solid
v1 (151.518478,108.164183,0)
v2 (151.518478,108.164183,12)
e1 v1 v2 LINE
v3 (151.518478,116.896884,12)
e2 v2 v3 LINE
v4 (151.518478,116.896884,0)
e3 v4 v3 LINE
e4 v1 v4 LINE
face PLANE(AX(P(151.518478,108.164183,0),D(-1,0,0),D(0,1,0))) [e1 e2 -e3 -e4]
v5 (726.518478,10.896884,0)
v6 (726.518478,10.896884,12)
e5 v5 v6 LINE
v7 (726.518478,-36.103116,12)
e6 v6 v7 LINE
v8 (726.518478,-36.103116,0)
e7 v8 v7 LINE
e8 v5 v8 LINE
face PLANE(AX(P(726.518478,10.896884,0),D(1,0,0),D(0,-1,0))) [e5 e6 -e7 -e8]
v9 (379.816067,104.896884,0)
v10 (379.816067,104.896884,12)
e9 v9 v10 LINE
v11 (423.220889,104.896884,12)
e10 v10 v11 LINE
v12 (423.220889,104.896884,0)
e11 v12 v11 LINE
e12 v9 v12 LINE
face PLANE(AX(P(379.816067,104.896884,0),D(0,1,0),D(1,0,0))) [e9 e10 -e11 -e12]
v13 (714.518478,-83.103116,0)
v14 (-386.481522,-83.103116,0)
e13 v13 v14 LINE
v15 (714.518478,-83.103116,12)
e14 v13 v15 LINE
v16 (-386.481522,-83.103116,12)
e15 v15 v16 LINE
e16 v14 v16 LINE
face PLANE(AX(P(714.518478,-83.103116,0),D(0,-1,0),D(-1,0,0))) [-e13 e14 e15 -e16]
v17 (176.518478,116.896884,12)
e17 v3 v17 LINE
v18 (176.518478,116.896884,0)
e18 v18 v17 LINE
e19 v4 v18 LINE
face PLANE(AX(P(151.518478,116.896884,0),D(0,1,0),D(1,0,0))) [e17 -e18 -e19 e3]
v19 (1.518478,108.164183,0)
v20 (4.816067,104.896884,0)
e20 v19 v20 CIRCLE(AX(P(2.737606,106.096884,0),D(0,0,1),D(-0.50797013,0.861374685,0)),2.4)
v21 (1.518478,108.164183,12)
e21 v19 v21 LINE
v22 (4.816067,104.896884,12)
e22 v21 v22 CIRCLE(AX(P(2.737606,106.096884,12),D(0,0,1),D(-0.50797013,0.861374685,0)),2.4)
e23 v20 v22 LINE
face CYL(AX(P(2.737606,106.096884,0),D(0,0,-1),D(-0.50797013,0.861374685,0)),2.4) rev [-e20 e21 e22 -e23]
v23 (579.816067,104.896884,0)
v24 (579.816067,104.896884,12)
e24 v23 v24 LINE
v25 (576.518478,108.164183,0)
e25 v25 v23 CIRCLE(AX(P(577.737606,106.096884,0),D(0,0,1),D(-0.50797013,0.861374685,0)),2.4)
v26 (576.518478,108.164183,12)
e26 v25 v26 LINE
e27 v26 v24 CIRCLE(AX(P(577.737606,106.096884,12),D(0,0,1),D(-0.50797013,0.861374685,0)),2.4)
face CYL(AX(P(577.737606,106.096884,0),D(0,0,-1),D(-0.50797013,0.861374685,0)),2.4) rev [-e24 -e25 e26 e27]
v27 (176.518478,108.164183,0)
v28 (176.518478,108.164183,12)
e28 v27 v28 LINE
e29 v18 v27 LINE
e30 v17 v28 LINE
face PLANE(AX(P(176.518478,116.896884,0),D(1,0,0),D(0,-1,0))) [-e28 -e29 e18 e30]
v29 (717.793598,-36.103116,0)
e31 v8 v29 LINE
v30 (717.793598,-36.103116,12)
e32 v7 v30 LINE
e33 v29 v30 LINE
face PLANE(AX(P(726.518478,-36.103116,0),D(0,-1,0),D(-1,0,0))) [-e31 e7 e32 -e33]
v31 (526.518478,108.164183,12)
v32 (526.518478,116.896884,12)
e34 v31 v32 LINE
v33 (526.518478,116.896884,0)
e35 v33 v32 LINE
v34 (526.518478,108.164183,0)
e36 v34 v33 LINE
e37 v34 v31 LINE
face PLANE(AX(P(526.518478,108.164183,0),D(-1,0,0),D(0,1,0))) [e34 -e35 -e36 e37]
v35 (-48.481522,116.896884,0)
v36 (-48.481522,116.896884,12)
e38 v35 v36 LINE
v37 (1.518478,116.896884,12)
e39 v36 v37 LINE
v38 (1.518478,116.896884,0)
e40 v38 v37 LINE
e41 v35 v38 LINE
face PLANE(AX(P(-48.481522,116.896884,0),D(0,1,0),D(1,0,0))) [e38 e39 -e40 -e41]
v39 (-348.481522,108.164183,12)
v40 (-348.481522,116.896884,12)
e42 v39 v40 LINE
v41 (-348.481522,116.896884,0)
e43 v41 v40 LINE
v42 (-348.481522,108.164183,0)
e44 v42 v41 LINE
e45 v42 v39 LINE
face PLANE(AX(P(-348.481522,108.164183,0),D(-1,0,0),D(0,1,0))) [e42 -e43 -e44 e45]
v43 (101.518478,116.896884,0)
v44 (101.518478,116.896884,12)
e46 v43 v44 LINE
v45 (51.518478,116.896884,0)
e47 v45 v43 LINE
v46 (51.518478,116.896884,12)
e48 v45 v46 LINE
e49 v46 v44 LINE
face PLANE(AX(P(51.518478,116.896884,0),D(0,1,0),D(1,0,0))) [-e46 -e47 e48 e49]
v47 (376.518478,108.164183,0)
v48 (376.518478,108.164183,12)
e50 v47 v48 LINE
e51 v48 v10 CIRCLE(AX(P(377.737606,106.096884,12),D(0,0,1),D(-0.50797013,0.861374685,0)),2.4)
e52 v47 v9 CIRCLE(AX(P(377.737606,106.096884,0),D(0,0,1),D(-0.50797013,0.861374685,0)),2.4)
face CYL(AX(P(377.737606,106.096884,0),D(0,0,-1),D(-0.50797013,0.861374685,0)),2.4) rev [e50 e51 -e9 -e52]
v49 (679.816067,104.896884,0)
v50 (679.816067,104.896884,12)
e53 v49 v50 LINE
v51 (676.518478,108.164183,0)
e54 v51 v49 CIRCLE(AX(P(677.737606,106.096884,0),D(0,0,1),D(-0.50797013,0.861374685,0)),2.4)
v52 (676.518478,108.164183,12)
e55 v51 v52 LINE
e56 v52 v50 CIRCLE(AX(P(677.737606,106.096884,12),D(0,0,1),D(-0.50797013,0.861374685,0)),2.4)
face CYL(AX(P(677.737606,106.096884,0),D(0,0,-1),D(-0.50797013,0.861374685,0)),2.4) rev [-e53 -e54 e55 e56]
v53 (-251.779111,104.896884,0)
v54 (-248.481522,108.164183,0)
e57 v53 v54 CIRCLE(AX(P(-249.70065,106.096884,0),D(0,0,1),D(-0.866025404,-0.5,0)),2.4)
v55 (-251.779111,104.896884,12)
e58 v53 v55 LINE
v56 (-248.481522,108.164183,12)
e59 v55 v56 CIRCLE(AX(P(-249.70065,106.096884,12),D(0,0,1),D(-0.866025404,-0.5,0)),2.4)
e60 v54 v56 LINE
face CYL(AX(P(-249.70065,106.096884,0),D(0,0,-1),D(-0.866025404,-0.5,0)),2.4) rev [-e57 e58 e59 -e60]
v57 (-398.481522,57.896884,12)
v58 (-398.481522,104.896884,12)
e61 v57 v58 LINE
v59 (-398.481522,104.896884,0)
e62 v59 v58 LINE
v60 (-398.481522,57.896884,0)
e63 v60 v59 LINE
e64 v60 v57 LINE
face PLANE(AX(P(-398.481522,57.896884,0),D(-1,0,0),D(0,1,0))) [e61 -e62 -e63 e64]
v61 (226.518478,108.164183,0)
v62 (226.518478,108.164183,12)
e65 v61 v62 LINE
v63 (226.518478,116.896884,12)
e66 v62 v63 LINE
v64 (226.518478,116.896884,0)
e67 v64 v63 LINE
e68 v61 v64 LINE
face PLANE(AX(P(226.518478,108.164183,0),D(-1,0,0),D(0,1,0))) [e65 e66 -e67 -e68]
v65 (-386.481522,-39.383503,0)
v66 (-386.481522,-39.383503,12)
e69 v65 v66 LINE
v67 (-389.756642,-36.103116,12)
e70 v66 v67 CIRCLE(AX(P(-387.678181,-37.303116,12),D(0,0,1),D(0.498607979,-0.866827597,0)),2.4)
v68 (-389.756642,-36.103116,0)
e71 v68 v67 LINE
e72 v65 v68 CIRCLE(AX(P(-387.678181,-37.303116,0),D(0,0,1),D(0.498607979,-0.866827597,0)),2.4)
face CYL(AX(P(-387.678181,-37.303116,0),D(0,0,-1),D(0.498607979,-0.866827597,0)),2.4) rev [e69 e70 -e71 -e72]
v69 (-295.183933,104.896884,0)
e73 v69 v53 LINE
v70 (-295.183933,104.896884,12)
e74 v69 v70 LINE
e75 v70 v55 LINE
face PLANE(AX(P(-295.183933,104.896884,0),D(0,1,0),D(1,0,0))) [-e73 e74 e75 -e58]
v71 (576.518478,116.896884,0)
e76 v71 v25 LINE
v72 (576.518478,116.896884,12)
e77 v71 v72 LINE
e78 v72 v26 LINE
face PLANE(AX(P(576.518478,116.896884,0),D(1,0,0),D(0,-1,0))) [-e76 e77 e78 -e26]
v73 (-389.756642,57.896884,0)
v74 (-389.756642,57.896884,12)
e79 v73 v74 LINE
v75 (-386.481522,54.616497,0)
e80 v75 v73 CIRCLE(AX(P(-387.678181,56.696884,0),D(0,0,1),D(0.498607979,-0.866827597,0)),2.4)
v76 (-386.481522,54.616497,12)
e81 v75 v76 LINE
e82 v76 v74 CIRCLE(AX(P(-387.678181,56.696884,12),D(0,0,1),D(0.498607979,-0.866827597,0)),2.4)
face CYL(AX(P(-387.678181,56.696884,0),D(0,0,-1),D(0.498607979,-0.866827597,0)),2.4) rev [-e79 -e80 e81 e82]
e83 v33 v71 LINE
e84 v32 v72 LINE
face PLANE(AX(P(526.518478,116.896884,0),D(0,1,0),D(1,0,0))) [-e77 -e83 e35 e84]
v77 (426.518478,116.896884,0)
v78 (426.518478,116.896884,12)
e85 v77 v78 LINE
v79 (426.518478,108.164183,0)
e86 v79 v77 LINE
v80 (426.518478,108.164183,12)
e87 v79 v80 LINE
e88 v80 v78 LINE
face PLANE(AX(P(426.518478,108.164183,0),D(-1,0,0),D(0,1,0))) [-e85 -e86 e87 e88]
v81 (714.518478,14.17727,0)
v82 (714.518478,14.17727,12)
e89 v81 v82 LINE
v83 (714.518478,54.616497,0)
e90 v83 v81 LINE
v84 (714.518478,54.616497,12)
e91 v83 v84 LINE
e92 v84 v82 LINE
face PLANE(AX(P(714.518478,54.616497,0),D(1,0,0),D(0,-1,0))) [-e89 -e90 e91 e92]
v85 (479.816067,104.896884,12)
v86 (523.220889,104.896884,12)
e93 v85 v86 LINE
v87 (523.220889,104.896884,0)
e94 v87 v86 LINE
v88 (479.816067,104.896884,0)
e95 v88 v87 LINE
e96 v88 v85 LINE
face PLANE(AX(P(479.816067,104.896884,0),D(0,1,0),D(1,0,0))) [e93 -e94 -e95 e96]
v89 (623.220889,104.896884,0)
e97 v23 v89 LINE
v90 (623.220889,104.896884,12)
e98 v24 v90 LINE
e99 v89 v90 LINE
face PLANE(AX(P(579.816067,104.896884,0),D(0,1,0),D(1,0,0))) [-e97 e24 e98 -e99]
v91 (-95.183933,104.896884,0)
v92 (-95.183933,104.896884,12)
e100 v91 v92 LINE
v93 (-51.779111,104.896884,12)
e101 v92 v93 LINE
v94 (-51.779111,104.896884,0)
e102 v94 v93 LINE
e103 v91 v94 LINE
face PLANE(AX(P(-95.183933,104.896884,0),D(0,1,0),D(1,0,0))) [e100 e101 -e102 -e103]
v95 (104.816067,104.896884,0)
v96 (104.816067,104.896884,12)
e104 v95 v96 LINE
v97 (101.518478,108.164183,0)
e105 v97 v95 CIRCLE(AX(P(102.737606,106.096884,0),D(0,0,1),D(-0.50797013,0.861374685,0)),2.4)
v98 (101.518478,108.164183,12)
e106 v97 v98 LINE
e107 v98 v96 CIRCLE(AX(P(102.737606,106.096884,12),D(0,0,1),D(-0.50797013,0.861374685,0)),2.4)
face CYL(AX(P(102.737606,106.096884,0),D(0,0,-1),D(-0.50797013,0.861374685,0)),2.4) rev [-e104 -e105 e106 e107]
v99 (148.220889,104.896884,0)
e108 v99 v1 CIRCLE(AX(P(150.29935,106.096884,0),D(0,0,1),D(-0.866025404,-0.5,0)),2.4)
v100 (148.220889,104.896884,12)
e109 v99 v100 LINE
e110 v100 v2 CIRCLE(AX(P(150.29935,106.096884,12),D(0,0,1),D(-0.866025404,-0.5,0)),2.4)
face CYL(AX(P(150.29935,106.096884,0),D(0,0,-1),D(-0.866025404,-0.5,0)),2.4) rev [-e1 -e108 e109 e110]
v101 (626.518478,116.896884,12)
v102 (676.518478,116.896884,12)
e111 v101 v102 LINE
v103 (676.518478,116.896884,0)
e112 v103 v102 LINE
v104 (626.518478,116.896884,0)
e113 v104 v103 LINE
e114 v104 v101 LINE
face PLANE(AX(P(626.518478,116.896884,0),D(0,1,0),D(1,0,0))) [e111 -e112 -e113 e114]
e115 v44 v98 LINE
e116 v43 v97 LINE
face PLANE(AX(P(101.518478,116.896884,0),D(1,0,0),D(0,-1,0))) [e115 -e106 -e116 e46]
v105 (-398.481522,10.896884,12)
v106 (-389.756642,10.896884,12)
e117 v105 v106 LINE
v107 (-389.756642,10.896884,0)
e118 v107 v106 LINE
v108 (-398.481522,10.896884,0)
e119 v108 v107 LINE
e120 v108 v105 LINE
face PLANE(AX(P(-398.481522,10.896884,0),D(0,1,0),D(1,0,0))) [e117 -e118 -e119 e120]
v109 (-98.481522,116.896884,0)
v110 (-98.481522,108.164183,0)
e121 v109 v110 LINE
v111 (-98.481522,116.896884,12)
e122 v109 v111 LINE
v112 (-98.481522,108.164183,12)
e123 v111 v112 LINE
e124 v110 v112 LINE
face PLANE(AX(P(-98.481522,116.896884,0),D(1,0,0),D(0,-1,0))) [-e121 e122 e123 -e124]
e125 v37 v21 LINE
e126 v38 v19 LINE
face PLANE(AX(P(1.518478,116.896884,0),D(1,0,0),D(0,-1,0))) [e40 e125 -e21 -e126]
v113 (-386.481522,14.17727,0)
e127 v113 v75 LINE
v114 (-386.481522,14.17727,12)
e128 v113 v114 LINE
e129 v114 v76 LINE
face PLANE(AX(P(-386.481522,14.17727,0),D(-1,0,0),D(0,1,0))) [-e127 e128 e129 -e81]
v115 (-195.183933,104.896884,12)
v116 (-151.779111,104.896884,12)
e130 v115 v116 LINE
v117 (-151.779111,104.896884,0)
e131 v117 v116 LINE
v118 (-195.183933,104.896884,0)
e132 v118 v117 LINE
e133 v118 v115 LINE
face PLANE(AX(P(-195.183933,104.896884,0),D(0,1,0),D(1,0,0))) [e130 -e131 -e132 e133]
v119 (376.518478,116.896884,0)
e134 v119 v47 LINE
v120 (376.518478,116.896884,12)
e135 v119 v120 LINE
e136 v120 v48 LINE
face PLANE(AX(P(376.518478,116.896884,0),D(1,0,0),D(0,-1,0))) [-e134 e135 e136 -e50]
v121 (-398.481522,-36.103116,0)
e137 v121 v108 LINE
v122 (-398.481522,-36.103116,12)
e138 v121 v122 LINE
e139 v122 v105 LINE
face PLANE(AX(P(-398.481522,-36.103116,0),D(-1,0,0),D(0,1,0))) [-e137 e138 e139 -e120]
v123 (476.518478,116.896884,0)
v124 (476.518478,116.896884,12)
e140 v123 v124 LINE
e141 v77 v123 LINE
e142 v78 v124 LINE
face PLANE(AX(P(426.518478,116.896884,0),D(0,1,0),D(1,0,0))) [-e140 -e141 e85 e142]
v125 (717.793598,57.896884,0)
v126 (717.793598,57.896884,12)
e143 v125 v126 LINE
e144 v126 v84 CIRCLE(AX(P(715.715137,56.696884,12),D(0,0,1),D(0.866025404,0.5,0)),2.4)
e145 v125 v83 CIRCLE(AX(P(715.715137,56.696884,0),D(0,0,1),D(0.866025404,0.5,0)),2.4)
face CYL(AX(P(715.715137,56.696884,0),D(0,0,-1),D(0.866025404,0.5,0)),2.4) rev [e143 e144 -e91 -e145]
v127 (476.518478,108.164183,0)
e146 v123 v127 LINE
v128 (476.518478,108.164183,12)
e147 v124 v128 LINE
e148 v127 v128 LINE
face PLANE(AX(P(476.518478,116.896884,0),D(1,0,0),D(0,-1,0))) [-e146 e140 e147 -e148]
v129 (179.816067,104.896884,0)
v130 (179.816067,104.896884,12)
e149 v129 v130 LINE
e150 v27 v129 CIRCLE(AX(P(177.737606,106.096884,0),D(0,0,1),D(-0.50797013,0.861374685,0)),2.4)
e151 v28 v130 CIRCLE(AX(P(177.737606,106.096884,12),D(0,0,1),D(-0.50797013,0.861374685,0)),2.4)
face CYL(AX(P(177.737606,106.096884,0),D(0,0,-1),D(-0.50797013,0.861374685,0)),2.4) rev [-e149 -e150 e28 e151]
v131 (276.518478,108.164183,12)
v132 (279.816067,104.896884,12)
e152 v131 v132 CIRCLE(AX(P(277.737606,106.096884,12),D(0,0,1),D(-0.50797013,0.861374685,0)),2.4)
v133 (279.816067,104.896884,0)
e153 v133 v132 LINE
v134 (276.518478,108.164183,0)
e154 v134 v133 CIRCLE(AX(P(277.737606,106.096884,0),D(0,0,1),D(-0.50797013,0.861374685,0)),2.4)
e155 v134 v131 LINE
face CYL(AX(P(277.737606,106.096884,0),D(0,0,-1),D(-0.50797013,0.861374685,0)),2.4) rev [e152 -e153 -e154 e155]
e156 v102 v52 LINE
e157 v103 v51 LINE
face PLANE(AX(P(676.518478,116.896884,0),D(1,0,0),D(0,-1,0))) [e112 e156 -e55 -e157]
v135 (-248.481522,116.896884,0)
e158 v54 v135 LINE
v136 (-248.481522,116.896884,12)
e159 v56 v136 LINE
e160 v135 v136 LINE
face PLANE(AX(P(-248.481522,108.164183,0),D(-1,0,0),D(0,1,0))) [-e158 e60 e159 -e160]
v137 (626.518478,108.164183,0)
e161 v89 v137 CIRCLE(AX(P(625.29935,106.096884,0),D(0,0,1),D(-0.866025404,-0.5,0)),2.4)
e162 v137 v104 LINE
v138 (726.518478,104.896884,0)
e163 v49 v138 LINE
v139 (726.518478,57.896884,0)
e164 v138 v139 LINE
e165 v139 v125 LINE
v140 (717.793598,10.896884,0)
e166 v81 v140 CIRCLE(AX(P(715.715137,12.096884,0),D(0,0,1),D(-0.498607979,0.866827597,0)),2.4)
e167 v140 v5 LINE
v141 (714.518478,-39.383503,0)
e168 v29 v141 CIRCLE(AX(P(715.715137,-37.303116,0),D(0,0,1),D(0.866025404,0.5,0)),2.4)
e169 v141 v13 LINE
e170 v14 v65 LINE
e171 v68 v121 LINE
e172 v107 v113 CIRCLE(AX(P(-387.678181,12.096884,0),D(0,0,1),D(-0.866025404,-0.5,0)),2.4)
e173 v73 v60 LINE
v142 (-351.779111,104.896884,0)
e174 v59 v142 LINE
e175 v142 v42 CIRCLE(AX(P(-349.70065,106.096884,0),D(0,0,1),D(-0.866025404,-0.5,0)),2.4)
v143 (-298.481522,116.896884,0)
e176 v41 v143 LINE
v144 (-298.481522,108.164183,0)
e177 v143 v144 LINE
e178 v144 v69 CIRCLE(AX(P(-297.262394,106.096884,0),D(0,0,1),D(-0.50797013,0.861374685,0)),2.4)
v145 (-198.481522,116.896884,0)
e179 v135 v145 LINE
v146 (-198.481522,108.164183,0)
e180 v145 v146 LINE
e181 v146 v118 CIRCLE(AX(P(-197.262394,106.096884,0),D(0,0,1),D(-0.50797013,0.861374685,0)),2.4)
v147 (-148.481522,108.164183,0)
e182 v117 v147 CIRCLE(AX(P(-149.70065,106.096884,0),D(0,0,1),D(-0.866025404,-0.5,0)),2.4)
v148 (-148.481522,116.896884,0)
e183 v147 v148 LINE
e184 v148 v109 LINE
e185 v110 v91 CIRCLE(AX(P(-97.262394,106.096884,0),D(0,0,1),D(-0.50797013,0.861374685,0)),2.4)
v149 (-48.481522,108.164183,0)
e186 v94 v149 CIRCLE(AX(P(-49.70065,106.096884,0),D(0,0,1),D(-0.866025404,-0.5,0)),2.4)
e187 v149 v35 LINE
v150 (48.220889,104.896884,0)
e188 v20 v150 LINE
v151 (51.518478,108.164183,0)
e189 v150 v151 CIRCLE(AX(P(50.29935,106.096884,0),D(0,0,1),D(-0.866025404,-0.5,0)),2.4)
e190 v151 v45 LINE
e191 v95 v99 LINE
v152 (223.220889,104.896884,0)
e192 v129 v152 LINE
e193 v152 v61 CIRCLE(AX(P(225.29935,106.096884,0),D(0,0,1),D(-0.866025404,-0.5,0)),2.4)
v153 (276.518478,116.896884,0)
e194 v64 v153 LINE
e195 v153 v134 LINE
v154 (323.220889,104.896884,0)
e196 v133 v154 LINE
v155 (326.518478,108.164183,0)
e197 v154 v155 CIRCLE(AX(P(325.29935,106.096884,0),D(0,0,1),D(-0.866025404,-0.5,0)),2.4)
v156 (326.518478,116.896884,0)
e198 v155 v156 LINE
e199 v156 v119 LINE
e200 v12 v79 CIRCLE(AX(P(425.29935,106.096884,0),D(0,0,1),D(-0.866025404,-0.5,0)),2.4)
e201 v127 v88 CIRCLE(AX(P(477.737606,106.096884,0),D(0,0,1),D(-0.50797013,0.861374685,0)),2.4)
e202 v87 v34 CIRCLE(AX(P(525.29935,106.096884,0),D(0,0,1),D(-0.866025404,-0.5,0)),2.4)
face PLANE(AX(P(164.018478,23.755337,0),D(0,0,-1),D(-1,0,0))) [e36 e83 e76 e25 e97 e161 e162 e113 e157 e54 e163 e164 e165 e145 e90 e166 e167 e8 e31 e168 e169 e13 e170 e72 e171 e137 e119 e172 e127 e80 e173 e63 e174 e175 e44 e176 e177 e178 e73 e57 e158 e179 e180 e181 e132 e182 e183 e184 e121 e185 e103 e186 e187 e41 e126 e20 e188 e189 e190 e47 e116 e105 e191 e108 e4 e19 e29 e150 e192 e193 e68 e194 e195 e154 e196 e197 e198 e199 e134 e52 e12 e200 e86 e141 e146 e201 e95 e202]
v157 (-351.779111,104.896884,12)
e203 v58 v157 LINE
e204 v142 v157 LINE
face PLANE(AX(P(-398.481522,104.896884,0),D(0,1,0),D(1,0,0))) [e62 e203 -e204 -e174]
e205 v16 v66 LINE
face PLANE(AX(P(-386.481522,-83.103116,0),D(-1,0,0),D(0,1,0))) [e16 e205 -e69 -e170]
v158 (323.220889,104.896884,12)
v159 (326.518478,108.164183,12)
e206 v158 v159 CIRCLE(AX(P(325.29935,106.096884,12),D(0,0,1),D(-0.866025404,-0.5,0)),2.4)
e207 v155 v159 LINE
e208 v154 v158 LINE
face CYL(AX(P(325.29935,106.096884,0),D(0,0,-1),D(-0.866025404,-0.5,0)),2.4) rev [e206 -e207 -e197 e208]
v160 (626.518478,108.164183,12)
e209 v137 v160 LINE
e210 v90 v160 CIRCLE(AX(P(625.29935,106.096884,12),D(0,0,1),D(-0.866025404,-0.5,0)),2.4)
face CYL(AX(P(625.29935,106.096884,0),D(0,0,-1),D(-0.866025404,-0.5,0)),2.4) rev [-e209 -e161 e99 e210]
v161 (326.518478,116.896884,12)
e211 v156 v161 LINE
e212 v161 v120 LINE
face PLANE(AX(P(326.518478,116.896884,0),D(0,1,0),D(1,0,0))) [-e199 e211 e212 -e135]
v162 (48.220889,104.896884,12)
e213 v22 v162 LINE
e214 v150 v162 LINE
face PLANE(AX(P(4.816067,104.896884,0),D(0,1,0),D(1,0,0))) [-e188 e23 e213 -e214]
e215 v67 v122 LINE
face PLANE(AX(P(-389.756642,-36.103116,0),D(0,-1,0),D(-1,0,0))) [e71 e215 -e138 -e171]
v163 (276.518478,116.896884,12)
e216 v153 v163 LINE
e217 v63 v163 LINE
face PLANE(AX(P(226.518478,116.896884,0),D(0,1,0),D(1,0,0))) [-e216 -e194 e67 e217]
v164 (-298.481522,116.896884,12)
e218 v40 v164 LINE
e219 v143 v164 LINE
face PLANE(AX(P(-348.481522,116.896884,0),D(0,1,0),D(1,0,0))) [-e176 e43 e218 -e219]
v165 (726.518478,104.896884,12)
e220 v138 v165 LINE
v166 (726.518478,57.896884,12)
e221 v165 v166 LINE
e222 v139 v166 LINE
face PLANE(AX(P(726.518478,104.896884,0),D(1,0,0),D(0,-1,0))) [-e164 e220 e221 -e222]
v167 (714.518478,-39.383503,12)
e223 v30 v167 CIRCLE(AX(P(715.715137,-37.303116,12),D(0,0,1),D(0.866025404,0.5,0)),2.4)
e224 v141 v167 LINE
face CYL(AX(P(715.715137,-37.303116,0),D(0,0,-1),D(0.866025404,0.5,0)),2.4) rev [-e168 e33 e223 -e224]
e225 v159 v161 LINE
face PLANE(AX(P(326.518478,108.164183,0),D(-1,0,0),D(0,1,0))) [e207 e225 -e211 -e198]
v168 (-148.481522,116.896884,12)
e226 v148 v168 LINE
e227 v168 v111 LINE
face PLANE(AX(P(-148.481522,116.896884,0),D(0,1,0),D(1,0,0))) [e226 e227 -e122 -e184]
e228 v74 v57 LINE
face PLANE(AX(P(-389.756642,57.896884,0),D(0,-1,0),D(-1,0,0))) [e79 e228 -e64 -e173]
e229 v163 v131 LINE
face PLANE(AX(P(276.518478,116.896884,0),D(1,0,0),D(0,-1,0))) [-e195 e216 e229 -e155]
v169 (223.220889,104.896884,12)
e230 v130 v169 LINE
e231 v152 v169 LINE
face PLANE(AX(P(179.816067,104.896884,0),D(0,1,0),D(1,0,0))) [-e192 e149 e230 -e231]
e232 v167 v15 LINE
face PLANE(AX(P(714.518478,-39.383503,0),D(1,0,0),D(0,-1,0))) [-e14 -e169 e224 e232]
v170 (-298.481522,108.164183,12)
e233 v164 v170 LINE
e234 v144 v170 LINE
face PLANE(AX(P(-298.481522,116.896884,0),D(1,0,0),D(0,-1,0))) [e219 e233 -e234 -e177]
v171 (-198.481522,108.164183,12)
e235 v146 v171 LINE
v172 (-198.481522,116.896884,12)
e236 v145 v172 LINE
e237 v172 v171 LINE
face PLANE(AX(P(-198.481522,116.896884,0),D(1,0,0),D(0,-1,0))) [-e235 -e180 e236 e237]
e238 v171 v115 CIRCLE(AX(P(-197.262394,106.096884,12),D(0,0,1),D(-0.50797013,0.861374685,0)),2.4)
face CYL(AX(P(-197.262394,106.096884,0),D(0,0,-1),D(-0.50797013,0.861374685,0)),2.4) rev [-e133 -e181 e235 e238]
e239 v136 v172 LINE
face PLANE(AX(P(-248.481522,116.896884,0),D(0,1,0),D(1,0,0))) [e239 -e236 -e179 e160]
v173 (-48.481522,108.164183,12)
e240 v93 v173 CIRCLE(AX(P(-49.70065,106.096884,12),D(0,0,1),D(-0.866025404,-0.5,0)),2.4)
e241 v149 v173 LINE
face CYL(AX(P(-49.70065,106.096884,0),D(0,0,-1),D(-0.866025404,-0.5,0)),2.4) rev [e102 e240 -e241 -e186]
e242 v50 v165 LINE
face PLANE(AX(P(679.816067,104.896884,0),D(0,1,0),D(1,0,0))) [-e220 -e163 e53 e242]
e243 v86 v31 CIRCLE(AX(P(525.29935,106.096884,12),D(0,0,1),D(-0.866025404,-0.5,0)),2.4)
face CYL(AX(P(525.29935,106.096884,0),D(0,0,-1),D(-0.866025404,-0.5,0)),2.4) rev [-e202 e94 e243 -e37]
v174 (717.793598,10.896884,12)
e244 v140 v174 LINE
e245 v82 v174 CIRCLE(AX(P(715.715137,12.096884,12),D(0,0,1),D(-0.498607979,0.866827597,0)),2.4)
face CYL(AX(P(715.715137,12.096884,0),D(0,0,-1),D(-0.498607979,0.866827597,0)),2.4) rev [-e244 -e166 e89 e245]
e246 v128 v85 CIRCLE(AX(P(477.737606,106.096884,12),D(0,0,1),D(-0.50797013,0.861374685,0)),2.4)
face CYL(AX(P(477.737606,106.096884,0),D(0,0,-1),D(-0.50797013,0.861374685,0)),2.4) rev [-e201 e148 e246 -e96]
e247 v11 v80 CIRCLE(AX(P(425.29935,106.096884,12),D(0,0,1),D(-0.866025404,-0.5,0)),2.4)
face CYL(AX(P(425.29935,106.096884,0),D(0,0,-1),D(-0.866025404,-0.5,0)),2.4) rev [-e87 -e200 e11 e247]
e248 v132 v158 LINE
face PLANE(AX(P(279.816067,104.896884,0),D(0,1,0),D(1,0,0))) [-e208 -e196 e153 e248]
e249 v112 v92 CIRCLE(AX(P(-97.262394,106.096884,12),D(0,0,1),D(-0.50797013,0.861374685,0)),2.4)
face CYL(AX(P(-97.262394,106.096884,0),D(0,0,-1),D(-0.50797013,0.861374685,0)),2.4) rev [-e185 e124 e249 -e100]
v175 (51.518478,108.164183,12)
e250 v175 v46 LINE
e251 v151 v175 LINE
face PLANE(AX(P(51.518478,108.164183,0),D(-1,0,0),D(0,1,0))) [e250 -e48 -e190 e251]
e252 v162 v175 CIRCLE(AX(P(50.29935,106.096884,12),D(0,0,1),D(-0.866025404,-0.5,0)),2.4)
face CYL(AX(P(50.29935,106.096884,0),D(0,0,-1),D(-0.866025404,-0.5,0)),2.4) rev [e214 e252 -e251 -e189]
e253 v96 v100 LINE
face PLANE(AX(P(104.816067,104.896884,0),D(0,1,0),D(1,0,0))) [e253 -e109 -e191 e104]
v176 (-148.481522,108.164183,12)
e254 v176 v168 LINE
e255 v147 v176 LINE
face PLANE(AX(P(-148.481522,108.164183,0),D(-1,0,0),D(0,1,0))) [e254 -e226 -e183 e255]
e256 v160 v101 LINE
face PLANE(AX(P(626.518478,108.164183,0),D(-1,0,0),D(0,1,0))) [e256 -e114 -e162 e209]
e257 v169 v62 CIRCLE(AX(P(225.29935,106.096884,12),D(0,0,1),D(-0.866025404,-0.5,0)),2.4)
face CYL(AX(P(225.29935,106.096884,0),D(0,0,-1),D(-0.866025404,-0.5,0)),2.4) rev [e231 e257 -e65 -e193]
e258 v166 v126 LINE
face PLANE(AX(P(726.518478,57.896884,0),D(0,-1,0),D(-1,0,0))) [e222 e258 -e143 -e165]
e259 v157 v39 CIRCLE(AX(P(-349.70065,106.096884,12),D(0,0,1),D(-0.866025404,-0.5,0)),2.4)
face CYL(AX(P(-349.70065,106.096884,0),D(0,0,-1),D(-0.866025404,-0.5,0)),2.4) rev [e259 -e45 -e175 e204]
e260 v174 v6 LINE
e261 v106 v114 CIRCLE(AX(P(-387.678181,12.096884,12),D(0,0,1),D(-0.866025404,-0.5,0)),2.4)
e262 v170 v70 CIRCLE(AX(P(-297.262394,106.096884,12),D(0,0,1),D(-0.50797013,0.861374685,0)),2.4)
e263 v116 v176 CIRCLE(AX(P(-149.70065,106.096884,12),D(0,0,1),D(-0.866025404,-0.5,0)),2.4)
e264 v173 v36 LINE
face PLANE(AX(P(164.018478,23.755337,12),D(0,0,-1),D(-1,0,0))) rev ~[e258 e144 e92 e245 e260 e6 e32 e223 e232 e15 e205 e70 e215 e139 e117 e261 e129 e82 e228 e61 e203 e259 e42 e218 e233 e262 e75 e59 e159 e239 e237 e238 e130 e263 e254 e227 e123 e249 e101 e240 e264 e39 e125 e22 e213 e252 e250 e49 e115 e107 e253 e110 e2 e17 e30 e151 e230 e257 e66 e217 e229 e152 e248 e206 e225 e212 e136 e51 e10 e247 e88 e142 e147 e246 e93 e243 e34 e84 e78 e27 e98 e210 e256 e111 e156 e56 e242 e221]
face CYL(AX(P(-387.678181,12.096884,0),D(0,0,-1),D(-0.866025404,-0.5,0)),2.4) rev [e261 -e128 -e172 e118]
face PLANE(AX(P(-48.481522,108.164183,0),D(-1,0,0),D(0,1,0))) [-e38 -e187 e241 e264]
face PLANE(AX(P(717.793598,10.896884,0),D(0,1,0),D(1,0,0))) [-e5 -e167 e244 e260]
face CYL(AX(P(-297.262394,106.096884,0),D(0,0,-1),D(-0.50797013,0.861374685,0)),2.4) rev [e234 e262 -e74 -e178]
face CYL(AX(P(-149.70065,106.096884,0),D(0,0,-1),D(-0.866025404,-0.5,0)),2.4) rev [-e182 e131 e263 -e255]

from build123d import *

# Parameters (mm, degrees)
BOSS_EXTRUDE1_DEPTH = 12


with BuildPart() as part:
    # Sketch1 → Boss-Extrude1 (new body)
    with BuildSketch(Plane.XY):
        with BuildLine():
            Line((-398.481522137, 104.896883683), (-351.779111417, 104.896883683))
            ThreePointArc((-351.779111417, 104.896883683), (-348.011442278, 104.39201543), (-348.481522137, 108.164182926))
            Line((-348.481522137, 108.164182926), (-348.481522137, 116.896883683))
            Line((-348.481522137, 116.896883683), (-298.481522137, 116.896883683))
            Line((-298.481522137, 116.896883683), (-298.481522137, 108.164182926))
            ThreePointArc((-298.481522137, 108.164182926), (-298.951601996, 104.39201543), (-295.183932857, 104.896883683))
            Line((-295.183932857, 104.896883683), (-251.779111417, 104.896883683))
            ThreePointArc((-251.779111417, 104.896883683), (-248.011442278, 104.39201543), (-248.481522137, 108.164182926))
            Line((-248.481522137, 108.164182926), (-248.481522137, 116.896883683))
            Line((-248.481522137, 116.896883683), (-198.481522137, 116.896883683))
            Line((-198.481522137, 116.896883683), (-198.481522137, 108.164182926))
            ThreePointArc((-198.481522137, 108.164182926), (-198.951601996, 104.39201543), (-195.183932857, 104.896883683))
            Line((-195.183932857, 104.896883683), (-151.779111417, 104.896883683))
            ThreePointArc((-151.779111417, 104.896883683), (-148.011442278, 104.39201543), (-148.481522137, 108.164182926))
            Line((-148.481522137, 108.164182926), (-148.481522137, 116.896883683))
            Line((-148.481522137, 116.896883683), (-98.481522137, 116.896883683))
            Line((-98.481522137, 116.896883683), (-98.481522137, 108.164182926))
            ThreePointArc((-98.481522137, 108.164182926), (-98.951601996, 104.39201543), (-95.183932857, 104.896883683))
            Line((-95.183932857, 104.896883683), (-51.779111417, 104.896883683))
            ThreePointArc((-51.779111417, 104.896883683), (-48.011442278, 104.39201543), (-48.481522137, 108.164182926))
            Line((-48.481522137, 108.164182926), (-48.481522137, 116.896883683))
            Line((-48.481522137, 116.896883683), (1.518477863, 116.896883683))
            Line((1.518477863, 116.896883683), (1.518477863, 108.164182926))
            ThreePointArc((1.518477863, 108.164182926), (1.048398004, 104.39201543), (4.816067143, 104.896883683))
            Line((4.816067143, 104.896883683), (48.220888583, 104.896883683))
            ThreePointArc((48.220888583, 104.896883683), (51.988557722, 104.39201543), (51.518477863, 108.164182926))
            Line((51.518477863, 108.164182926), (51.518477863, 116.896883683))
            Line((51.518477863, 116.896883683), (101.518477863, 116.896883683))
            Line((101.518477863, 116.896883683), (101.518477863, 108.164182926))
            ThreePointArc((101.518477863, 108.164182926), (101.048398004, 104.39201543), (104.816067143, 104.896883683))
            Line((104.816067143, 104.896883683), (148.220888583, 104.896883683))
            ThreePointArc((148.220888583, 104.896883683), (151.988557722, 104.39201543), (151.518477863, 108.164182926))
            Line((151.518477863, 108.164182926), (151.518477863, 116.896883683))
            Line((151.518477863, 116.896883683), (176.518477863, 116.896883683))
            Line((176.518477863, 116.896883683), (176.518477863, 108.164182926))
            ThreePointArc((176.518477863, 108.164182926), (176.048398004, 104.39201543), (179.816067143, 104.896883683))
            Line((179.816067143, 104.896883683), (223.220888583, 104.896883683))
            ThreePointArc((223.220888583, 104.896883683), (226.988557722, 104.39201543), (226.518477863, 108.164182926))
            Line((226.518477863, 108.164182926), (226.518477863, 116.896883683))
            Line((226.518477863, 116.896883683), (276.518477863, 116.896883683))
            Line((276.518477863, 116.896883683), (276.518477863, 108.164182926))
            ThreePointArc((276.518477863, 108.164182926), (276.048398004, 104.39201543), (279.816067143, 104.896883683))
            Line((279.816067143, 104.896883683), (323.220888583, 104.896883683))
            ThreePointArc((323.220888583, 104.896883683), (326.988557722, 104.39201543), (326.518477863, 108.164182926))
            Line((326.518477863, 108.164182926), (326.518477863, 116.896883683))
            Line((326.518477863, 116.896883683), (376.518477863, 116.896883683))
            Line((376.518477863, 116.896883683), (376.518477863, 108.164182926))
            ThreePointArc((376.518477863, 108.164182926), (376.048398004, 104.39201543), (379.816067143, 104.896883683))
            Line((379.816067143, 104.896883683), (423.220888583, 104.896883683))
            ThreePointArc((423.220888583, 104.896883683), (426.988557722, 104.39201543), (426.518477863, 108.164182926))
            Line((426.518477863, 108.164182926), (426.518477863, 116.896883683))
            Line((426.518477863, 116.896883683), (476.518477863, 116.896883683))
            Line((476.518477863, 116.896883683), (476.518477863, 108.164182926))
            ThreePointArc((476.518477863, 108.164182926), (476.048398004, 104.39201543), (479.816067143, 104.896883683))
            Line((479.816067143, 104.896883683), (523.220888583, 104.896883683))
            ThreePointArc((523.220888583, 104.896883683), (526.988557722, 104.39201543), (526.518477863, 108.164182926))
            Line((526.518477863, 108.164182926), (526.518477863, 116.896883683))
            Line((526.518477863, 116.896883683), (576.518477863, 116.896883683))
            Line((576.518477863, 116.896883683), (576.518477863, 108.164182926))
            ThreePointArc((576.518477863, 108.164182926), (576.048398004, 104.39201543), (579.816067143, 104.896883683))
            Line((579.816067143, 104.896883683), (623.220888583, 104.896883683))
            ThreePointArc((623.220888583, 104.896883683), (626.988557722, 104.39201543), (626.518477863, 108.164182926))
            Line((626.518477863, 108.164182926), (626.518477863, 116.896883683))
            Line((626.518477863, 116.896883683), (676.518477863, 116.896883683))
            Line((676.518477863, 116.896883683), (676.518477863, 108.164182926))
            ThreePointArc((676.518477863, 108.164182926), (676.048398004, 104.39201543), (679.816067143, 104.896883683))
            Line((679.816067143, 104.896883683), (726.518477863, 104.896883683))
            Line((726.518477863, 104.896883683), (726.518477863, 57.896883683))
            Line((726.518477863, 57.896883683), (717.793597981, 57.896883683))
            ThreePointArc((717.793597981, 57.896883683), (714.01671802, 58.392576145), (714.518477863, 54.616497449))
            Line((714.518477863, 54.616497449), (714.518477863, 14.177269917))
            ThreePointArc((714.518477863, 14.177269917), (714.01671802, 10.401191221), (717.793597981, 10.896883683))
            Line((717.793597981, 10.896883683), (726.518477863, 10.896883683))
            Line((726.518477863, 10.896883683), (726.518477863, -36.103116317))
            Line((726.518477863, -36.103116317), (717.793597981, -36.103116317))
            ThreePointArc((717.793597981, -36.103116317), (714.01671802, -35.607423855), (714.518477863, -39.383502551))
            Line((714.518477863, -39.383502551), (714.518477863, -71.103116317))
            Line((714.518477863, -71.103116317), (714.518477863, -83.103116317))
            Line((714.518477863, -83.103116317), (-386.481522137, -83.103116317))
            Line((-386.481522137, -83.103116317), (-386.481522137, -39.383502551))
            ThreePointArc((-386.481522137, -39.383502551), (-385.979762293, -35.607423855), (-389.756642255, -36.103116317))
            Line((-389.756642255, -36.103116317), (-398.481522137, -36.103116317))
            Line((-398.481522137, -36.103116317), (-398.481522137, 10.896883683))
            Line((-398.481522137, 10.896883683), (-389.756642255, 10.896883683))
            ThreePointArc((-389.756642255, 10.896883683), (-385.979762293, 10.401191221), (-386.481522137, 14.177269917))
            Line((-386.481522137, 14.177269917), (-386.481522137, 54.616497449))
            ThreePointArc((-386.481522137, 54.616497449), (-385.979762293, 58.392576145), (-389.756642255, 57.896883683))
            Line((-389.756642255, 57.896883683), (-398.481522137, 57.896883683))
            Line((-398.481522137, 57.896883683), (-398.481522137, 104.896883683))
        make_face()
    extrude(amount=BOSS_EXTRUDE1_DEPTH)


solid = part.part
